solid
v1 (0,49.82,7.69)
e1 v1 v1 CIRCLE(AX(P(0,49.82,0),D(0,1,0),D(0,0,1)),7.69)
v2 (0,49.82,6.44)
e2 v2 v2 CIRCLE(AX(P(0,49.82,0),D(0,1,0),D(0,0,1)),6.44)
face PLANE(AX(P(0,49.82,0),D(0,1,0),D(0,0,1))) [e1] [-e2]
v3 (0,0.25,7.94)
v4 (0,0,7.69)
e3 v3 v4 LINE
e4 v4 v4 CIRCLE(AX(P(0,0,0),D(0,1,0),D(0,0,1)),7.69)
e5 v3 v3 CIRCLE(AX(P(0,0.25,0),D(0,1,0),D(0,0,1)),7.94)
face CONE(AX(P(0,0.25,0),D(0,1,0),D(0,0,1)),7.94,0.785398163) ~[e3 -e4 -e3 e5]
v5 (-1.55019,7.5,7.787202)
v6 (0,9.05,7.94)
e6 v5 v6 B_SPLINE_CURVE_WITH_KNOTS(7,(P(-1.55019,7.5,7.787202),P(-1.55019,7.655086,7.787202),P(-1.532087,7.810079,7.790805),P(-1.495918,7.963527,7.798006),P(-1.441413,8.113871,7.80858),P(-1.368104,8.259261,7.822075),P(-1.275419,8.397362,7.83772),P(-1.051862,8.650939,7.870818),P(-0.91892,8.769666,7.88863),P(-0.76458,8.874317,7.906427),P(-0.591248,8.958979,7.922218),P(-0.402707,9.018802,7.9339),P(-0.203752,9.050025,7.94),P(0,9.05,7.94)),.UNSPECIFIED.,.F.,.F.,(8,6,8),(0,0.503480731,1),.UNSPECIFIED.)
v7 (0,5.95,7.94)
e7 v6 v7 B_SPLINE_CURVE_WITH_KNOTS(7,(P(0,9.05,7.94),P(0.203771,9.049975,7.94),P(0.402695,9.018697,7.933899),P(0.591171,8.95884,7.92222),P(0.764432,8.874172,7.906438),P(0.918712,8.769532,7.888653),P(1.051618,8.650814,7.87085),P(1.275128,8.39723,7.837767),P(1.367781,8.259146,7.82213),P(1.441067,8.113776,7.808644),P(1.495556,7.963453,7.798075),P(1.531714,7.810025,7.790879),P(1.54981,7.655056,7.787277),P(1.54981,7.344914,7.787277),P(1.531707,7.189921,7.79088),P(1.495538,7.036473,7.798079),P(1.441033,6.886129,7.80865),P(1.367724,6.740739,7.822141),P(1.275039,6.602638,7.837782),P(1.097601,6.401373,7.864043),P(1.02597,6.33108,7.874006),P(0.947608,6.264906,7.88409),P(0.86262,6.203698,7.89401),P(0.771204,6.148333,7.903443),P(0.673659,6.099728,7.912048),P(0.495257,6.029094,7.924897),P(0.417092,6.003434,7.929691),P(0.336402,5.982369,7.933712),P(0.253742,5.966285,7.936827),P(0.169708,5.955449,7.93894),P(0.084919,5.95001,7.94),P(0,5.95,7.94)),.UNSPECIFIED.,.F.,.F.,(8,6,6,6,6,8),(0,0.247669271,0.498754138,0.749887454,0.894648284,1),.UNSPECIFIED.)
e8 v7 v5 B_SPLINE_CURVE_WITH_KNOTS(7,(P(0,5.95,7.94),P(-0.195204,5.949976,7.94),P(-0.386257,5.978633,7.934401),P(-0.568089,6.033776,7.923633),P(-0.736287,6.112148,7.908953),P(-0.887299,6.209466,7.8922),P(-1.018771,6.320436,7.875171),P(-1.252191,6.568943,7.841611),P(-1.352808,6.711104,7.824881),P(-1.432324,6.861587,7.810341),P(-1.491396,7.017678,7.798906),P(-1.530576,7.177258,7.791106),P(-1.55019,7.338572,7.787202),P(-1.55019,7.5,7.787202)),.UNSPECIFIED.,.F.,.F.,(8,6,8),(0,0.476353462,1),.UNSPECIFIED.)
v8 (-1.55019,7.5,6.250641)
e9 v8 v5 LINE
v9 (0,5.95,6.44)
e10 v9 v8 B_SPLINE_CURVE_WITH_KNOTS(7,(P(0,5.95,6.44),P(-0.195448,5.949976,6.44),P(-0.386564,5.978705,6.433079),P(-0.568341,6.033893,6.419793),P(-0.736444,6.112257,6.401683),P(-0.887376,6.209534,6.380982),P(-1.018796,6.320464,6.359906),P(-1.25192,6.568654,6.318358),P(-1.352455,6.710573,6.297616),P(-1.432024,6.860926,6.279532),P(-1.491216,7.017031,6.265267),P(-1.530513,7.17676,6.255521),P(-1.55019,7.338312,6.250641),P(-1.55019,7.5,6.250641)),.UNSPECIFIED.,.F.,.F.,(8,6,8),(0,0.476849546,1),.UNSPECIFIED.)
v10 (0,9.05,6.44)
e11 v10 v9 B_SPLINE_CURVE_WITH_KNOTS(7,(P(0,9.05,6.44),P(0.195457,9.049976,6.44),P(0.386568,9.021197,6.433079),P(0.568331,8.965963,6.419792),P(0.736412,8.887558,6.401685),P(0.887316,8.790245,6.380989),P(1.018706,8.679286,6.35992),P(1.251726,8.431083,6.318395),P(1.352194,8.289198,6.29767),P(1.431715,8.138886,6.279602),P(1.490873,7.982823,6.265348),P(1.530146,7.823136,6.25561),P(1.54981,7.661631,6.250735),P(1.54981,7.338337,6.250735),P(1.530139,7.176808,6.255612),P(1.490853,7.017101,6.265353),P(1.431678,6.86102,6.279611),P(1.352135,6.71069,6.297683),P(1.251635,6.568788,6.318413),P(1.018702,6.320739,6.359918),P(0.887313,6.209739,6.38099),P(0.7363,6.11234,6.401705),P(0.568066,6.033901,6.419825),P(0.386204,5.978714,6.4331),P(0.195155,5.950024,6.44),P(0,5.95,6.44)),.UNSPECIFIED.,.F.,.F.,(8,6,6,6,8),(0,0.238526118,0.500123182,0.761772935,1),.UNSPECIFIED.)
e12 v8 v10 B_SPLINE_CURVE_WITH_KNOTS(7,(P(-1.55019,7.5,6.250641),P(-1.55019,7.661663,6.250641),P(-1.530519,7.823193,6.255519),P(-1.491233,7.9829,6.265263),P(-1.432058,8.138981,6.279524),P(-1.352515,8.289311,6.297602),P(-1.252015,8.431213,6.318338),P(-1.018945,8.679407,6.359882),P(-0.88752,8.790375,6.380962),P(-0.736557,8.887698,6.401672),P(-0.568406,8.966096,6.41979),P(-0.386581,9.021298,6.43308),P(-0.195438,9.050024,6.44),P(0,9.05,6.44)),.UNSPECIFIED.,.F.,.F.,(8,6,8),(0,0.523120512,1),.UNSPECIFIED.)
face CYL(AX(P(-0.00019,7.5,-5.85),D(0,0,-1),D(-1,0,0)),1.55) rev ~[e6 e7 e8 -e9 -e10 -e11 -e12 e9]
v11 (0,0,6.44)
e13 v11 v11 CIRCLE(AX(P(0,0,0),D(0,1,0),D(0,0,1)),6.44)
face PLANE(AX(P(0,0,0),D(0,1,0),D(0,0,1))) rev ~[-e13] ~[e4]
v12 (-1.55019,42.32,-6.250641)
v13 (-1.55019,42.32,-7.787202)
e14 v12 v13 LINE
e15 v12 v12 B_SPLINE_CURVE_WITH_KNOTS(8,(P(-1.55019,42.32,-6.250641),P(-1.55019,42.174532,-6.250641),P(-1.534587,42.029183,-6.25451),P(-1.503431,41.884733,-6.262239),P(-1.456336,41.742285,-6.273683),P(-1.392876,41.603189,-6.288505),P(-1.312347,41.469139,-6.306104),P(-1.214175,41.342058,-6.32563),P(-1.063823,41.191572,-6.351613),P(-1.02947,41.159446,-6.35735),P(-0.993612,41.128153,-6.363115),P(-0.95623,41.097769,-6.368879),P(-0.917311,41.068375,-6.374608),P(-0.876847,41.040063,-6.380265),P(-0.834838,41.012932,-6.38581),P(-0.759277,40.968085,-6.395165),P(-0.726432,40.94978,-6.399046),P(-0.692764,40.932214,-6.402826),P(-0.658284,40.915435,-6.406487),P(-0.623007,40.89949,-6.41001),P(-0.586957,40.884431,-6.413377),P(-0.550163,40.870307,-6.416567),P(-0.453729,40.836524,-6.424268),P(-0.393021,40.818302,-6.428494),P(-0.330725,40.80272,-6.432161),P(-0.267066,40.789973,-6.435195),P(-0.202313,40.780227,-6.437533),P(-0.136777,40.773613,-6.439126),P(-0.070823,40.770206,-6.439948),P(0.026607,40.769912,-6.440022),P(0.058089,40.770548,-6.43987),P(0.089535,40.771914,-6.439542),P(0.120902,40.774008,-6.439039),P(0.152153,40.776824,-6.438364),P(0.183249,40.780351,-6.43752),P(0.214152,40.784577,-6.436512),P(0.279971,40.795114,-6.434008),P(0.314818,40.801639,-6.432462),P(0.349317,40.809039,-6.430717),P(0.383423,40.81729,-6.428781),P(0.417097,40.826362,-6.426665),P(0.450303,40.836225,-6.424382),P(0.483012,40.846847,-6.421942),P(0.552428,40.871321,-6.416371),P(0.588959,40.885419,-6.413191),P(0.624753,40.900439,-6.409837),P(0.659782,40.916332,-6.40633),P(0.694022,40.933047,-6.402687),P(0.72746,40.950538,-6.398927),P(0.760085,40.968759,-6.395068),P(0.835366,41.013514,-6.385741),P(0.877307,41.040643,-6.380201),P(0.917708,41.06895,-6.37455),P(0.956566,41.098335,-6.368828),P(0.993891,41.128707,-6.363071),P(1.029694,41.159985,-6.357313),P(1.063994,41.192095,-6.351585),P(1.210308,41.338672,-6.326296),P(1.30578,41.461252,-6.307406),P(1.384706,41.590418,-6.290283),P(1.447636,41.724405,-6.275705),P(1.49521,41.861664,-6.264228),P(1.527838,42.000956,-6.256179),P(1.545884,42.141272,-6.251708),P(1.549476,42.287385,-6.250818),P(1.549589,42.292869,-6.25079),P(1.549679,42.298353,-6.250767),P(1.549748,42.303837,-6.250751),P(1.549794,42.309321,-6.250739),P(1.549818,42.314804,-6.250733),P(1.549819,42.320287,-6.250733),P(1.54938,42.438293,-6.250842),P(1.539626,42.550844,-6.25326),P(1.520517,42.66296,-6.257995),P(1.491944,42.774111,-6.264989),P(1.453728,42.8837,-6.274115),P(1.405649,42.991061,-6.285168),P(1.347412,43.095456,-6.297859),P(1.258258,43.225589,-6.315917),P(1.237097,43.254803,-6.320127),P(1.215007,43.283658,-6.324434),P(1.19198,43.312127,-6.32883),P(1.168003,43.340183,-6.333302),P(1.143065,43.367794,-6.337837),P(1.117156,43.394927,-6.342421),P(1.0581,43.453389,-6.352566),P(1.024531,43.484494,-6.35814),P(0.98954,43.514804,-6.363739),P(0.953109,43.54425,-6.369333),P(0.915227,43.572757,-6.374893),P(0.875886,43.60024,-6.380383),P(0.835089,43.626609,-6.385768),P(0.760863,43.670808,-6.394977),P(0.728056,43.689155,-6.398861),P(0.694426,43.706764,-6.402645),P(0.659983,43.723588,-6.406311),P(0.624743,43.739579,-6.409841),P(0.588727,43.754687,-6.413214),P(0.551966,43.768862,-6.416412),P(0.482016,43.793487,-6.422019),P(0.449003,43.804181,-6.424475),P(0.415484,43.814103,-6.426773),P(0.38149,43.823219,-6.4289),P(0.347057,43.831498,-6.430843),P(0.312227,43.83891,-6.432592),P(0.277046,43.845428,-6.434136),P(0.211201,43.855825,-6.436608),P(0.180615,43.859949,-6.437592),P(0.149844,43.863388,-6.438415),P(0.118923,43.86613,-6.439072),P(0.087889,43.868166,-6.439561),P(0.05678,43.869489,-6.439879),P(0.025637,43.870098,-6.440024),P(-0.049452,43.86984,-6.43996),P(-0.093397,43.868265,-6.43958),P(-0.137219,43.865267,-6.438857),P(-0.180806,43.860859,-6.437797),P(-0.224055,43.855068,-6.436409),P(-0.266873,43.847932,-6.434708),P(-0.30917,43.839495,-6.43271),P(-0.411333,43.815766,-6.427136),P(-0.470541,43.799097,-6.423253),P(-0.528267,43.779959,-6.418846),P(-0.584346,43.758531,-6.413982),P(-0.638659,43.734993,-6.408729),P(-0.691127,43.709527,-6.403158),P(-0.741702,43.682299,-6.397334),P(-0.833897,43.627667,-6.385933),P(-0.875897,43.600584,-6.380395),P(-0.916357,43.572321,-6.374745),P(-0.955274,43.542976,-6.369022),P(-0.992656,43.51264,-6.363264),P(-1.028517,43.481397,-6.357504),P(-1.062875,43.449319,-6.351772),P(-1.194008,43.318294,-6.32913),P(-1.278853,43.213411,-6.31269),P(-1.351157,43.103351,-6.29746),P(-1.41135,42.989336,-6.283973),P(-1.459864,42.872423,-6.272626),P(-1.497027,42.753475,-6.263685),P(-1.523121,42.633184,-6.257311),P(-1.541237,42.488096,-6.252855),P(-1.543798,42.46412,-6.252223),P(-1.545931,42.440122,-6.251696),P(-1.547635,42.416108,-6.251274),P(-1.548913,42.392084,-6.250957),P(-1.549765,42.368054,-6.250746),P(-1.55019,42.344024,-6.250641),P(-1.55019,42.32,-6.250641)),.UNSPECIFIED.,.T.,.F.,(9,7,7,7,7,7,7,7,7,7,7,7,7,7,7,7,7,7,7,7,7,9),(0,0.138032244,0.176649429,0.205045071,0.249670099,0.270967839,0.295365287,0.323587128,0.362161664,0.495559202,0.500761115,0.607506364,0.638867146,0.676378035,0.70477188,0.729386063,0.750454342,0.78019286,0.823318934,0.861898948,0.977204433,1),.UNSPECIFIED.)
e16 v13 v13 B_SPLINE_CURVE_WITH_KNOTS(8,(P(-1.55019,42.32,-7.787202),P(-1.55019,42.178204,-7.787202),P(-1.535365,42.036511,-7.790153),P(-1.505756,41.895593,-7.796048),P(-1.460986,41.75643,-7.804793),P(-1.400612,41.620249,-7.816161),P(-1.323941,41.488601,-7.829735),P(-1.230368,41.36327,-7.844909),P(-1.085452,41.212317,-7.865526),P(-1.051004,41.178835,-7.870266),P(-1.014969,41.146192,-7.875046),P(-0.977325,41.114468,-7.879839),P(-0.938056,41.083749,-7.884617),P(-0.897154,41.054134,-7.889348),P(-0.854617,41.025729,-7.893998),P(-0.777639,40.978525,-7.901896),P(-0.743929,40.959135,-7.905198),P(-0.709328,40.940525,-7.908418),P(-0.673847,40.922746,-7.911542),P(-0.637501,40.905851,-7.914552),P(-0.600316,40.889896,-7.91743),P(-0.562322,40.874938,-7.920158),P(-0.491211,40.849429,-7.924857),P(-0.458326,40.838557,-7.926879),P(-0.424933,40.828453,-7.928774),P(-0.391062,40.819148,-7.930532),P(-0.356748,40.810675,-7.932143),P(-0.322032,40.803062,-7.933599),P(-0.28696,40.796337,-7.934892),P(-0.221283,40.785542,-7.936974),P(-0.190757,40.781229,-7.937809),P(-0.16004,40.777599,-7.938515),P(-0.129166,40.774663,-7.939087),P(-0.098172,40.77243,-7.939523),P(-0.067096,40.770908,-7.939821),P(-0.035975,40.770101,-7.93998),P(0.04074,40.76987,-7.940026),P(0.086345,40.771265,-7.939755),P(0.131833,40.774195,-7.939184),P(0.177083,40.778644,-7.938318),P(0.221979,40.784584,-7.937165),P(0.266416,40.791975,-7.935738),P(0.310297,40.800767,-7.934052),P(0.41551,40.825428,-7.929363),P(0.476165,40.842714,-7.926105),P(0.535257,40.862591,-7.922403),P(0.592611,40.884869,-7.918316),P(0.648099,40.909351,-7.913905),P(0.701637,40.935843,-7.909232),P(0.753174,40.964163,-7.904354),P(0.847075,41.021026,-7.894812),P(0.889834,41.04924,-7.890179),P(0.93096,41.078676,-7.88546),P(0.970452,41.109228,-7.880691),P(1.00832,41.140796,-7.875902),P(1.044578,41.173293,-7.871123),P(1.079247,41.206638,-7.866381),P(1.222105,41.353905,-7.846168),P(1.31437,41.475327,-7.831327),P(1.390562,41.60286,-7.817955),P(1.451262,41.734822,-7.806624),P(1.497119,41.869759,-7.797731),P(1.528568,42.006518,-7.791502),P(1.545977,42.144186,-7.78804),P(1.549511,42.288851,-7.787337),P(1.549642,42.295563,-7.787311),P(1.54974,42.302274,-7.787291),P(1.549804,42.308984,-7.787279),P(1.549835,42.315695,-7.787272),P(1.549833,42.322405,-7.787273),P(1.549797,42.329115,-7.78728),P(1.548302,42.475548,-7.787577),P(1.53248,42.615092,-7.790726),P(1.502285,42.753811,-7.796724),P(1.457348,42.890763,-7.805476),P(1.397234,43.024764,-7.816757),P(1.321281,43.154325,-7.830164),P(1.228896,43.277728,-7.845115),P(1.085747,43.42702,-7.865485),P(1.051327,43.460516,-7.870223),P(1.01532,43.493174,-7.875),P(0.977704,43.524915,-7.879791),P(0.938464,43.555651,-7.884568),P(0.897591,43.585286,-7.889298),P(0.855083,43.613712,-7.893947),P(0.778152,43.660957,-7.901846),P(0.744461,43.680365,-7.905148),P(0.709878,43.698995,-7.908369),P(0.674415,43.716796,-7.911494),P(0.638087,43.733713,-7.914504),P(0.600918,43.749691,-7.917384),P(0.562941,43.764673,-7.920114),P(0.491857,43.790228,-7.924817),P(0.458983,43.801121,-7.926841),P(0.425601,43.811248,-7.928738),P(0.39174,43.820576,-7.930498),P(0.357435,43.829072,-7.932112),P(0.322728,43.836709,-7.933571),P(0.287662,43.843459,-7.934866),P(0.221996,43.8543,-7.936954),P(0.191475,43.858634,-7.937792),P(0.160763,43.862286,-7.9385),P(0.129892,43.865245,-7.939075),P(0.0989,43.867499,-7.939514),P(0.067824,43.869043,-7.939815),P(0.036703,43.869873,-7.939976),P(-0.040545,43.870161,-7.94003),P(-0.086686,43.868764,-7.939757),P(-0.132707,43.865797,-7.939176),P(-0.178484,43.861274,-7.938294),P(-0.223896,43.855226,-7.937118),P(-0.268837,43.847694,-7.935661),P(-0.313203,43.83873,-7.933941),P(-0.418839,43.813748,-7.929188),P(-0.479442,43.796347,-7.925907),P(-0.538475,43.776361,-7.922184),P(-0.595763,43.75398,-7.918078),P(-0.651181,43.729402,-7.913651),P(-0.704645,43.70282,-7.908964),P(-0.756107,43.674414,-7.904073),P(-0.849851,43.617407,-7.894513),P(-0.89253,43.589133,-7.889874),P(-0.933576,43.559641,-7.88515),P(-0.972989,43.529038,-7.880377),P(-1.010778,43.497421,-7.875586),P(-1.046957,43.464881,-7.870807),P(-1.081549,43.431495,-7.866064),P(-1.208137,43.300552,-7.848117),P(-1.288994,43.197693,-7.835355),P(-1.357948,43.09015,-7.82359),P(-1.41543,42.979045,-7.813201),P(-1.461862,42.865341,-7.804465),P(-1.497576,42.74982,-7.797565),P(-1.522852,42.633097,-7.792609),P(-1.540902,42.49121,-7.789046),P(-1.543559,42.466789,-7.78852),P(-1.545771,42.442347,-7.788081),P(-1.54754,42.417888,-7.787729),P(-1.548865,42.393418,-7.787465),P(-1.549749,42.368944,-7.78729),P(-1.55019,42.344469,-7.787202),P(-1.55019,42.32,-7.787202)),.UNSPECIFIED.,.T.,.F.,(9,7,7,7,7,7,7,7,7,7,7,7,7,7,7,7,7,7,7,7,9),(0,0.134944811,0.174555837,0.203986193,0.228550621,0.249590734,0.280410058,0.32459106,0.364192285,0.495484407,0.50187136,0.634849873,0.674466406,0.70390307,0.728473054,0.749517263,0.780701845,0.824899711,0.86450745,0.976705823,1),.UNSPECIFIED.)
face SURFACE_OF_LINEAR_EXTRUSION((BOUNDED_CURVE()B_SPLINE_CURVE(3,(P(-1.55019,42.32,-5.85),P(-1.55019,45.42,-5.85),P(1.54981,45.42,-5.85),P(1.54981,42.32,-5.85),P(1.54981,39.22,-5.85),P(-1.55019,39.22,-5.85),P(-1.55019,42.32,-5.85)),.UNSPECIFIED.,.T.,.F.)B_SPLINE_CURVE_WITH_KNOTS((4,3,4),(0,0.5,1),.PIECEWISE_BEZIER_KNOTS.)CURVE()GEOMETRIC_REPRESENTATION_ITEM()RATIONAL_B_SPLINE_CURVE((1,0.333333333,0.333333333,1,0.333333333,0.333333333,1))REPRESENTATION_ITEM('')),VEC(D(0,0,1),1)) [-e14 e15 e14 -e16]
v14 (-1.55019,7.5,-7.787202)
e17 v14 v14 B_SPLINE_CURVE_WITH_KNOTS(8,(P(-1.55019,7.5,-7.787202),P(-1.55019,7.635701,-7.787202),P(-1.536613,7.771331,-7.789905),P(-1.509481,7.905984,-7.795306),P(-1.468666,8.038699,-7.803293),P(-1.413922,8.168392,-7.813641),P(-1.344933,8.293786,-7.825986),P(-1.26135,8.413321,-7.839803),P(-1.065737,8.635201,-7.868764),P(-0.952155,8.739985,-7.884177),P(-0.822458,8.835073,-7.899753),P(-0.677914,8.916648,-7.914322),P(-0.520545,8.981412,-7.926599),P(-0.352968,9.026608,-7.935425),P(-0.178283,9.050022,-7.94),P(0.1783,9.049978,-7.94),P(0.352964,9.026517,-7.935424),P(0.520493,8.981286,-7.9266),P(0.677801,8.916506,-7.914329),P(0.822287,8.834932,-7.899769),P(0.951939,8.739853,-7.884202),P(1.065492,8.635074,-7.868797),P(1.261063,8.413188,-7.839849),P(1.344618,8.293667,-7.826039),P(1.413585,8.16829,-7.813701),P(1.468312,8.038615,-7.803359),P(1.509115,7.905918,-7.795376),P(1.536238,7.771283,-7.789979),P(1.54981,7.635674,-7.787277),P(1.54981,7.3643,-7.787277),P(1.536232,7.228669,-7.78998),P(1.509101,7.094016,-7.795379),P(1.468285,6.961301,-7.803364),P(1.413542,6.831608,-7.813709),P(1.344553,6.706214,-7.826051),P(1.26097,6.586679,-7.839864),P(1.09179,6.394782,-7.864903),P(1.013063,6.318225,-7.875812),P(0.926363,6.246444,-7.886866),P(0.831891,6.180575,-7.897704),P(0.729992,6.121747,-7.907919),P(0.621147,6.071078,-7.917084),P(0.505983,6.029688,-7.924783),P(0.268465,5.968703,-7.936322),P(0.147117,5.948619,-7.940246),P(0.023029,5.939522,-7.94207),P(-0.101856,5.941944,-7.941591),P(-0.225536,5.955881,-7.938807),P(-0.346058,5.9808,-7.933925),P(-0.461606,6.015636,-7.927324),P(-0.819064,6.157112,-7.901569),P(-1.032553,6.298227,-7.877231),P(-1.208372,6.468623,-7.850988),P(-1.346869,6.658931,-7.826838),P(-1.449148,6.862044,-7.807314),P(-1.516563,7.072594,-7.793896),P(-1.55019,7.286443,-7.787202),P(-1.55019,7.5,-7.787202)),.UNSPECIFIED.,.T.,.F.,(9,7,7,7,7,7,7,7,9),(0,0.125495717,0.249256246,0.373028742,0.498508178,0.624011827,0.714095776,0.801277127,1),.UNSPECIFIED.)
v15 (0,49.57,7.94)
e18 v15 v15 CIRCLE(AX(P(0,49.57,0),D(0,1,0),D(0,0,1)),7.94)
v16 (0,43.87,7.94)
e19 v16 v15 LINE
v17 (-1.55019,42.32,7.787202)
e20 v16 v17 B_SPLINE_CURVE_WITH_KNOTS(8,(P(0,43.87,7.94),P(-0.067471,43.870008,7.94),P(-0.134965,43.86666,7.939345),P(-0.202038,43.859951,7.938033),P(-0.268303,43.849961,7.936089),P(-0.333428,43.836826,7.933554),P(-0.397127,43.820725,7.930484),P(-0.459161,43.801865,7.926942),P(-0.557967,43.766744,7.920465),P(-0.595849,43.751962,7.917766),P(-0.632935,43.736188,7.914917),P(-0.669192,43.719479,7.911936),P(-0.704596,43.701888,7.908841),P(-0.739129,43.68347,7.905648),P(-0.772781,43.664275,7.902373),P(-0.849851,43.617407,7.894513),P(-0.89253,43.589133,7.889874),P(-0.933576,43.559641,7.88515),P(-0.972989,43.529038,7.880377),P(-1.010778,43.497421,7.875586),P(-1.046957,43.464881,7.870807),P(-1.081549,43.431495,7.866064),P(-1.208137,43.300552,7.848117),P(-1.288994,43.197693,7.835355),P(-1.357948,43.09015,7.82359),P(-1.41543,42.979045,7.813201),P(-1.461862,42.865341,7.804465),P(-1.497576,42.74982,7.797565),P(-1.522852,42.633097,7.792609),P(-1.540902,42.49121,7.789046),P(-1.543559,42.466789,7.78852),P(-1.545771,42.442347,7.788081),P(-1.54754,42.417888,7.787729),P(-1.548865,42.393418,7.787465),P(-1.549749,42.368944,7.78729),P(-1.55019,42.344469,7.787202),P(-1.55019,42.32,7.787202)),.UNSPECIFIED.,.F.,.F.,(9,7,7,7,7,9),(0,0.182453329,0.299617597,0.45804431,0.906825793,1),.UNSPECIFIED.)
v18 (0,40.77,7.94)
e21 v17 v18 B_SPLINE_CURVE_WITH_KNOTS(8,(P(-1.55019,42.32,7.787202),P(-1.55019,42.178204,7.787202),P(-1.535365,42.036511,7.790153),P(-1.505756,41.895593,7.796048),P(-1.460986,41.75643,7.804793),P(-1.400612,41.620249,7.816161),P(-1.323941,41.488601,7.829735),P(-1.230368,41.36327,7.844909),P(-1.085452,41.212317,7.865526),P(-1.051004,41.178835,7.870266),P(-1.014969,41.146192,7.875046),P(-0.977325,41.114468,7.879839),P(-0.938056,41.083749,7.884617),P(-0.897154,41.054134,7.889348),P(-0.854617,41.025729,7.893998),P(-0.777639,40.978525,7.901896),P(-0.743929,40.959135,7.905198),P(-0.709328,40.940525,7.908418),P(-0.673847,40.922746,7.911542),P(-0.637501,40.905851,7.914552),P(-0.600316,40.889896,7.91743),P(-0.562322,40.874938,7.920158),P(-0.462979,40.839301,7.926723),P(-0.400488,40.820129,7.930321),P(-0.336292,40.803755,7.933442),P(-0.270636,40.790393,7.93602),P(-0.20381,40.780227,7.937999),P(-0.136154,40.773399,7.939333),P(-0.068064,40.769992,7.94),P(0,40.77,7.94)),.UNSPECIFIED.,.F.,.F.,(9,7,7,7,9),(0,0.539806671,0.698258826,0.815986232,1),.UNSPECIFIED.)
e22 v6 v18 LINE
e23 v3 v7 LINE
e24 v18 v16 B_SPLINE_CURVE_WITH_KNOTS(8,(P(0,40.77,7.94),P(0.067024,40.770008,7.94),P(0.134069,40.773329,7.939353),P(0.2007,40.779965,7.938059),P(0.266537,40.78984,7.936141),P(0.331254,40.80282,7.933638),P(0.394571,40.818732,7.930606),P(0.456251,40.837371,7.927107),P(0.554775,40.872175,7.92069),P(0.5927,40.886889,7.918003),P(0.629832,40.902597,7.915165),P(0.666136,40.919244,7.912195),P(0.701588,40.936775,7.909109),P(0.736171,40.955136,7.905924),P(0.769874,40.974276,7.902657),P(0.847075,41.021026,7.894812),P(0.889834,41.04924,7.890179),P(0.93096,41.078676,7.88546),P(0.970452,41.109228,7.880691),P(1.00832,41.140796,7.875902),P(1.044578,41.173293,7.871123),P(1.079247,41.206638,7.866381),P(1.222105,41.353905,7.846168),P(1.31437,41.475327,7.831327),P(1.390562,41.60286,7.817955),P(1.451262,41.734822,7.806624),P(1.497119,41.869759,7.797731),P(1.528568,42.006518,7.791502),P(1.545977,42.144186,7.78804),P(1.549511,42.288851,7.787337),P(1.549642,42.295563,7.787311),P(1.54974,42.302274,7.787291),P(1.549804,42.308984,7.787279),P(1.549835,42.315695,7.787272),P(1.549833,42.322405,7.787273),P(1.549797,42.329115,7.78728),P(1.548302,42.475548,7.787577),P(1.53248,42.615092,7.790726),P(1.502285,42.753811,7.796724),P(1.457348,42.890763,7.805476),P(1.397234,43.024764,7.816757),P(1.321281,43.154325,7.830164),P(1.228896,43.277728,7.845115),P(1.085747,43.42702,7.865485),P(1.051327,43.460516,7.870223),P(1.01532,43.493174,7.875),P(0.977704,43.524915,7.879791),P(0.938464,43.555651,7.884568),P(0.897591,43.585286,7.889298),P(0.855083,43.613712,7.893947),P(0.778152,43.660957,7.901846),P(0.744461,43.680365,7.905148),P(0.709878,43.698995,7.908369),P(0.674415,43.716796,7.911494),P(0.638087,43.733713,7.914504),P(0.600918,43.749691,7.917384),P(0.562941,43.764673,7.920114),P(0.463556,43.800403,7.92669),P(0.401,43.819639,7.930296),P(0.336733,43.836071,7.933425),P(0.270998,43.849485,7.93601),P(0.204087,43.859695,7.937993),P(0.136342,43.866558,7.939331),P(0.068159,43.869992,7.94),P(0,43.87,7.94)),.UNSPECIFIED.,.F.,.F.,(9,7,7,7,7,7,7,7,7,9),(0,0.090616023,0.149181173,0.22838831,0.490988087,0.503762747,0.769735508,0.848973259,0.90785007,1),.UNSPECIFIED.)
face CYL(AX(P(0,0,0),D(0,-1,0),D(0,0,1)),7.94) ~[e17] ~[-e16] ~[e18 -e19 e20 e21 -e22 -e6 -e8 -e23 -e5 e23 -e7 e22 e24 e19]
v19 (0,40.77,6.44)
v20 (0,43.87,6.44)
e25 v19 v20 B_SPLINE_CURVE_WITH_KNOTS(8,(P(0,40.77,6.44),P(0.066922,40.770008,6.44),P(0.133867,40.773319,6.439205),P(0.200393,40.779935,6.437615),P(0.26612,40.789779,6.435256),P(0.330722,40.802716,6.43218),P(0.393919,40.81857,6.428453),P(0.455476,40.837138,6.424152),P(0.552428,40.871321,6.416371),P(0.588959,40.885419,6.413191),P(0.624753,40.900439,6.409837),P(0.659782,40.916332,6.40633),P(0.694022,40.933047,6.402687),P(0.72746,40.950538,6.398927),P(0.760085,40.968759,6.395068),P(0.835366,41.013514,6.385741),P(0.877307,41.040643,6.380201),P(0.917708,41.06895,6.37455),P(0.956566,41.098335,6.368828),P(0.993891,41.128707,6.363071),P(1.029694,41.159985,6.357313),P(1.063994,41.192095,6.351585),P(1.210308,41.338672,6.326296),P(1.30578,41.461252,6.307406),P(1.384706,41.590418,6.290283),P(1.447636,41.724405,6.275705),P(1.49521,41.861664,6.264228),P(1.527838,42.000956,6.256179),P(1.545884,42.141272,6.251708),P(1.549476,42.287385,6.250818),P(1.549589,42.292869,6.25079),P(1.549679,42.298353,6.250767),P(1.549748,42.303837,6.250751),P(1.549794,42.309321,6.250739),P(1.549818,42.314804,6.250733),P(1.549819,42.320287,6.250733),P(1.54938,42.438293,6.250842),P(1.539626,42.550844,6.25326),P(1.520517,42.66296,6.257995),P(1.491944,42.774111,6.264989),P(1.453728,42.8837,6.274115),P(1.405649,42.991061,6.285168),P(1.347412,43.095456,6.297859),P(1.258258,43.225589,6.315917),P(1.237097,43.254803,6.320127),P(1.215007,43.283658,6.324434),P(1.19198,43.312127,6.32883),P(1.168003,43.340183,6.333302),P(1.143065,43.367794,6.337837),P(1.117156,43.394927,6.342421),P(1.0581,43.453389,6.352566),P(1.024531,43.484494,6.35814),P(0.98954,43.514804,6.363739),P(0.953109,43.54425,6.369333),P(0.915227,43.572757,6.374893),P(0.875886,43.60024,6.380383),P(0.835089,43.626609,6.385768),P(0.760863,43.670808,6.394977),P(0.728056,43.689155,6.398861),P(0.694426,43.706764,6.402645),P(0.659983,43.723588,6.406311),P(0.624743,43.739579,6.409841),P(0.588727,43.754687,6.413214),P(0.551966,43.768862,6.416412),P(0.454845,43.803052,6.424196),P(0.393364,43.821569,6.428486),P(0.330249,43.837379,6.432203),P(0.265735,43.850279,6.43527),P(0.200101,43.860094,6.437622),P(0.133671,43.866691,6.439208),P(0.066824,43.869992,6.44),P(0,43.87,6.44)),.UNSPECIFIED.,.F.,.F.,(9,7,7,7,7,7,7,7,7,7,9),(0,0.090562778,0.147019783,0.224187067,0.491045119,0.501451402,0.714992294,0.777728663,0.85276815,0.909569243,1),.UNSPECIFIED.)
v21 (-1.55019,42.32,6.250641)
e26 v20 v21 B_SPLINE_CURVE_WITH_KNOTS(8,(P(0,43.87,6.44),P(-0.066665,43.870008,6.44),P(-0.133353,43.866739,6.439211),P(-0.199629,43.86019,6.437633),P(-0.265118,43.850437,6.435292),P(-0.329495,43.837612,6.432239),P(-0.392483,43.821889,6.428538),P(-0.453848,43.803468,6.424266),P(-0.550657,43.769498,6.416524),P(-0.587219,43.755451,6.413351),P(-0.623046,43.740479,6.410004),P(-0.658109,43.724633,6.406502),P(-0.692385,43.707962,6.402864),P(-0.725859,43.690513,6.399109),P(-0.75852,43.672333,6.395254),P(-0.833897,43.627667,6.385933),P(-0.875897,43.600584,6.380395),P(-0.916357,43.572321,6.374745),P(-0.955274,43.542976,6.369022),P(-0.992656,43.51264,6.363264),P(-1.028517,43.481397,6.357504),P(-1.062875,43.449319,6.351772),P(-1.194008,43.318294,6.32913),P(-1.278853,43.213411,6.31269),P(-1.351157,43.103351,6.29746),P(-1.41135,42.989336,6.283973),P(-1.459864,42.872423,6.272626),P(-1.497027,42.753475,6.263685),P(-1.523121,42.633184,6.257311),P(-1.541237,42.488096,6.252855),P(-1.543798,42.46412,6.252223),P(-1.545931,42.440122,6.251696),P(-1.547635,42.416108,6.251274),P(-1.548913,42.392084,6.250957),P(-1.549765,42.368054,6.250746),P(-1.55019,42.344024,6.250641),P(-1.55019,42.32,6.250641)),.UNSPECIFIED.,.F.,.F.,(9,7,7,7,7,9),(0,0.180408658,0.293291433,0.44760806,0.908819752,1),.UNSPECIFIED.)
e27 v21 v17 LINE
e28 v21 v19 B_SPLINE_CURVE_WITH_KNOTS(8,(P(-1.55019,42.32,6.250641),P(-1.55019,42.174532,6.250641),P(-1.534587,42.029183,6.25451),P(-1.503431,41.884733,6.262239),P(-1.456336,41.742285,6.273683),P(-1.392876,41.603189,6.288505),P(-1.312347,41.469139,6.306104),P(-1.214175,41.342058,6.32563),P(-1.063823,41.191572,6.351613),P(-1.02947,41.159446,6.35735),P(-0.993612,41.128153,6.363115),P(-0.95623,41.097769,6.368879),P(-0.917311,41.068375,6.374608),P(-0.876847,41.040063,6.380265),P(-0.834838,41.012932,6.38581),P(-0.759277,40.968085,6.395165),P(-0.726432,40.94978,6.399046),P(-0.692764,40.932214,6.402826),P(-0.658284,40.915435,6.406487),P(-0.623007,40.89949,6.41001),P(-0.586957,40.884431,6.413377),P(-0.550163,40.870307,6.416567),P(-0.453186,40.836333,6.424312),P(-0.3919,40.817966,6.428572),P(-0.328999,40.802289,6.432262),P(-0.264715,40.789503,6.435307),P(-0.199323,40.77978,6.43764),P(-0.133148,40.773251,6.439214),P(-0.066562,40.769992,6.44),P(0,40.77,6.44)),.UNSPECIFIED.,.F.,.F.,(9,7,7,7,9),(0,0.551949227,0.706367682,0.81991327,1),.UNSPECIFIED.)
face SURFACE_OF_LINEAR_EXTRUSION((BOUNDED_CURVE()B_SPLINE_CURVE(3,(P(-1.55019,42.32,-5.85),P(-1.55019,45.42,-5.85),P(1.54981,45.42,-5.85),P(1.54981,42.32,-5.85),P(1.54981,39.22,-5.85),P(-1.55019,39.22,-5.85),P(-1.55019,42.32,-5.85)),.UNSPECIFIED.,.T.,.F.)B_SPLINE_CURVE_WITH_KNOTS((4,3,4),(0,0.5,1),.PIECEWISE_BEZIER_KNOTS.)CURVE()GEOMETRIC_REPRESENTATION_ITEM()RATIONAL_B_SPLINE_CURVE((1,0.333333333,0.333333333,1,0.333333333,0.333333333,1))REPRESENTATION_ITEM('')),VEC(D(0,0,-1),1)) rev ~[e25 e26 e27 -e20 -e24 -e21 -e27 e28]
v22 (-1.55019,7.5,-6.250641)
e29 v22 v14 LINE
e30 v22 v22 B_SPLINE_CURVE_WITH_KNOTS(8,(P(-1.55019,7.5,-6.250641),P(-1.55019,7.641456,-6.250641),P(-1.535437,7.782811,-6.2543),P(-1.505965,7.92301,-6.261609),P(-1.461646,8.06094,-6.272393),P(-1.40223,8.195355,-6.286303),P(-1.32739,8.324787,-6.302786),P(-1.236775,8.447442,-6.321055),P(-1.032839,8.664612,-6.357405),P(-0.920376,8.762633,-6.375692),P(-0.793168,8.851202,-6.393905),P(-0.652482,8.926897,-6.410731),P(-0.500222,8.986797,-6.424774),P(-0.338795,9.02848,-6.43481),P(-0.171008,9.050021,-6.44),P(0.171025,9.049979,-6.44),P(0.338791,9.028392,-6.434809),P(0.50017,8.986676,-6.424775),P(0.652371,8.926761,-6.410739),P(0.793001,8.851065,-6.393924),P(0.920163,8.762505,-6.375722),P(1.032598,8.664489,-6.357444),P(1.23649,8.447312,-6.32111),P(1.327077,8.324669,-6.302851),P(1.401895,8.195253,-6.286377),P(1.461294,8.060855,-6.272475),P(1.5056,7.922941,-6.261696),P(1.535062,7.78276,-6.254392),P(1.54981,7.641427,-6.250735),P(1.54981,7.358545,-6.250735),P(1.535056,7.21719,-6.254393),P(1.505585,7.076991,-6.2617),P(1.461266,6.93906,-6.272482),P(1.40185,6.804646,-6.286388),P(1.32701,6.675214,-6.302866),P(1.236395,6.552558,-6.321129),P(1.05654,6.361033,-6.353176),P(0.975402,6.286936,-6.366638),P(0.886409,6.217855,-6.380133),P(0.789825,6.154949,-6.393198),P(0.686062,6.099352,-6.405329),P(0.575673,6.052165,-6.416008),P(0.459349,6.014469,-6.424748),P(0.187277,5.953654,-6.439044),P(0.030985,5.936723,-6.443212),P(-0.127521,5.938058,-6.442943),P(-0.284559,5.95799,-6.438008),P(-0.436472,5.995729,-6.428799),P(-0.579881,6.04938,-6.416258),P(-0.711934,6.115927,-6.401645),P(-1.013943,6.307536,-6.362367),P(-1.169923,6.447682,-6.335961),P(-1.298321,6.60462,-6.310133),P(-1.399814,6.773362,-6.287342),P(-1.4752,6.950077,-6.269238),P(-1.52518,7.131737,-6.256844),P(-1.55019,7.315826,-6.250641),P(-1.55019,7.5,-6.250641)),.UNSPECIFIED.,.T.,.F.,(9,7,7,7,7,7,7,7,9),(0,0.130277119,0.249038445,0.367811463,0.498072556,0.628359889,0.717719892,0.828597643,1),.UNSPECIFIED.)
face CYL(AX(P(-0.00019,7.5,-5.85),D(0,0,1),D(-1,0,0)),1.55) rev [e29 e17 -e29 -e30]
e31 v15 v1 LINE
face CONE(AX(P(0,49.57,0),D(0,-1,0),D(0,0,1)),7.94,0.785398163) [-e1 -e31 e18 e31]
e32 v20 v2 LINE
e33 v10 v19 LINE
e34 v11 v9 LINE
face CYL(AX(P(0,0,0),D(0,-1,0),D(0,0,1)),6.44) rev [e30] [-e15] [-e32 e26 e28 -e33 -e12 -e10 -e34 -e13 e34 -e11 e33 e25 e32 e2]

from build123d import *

# Parameters (mm, degrees)
SKETCH1_R               = 7.94
SKETCH1_R_2             = 6.44
BOSS_EXTRUDE1_DEPTH     = 49.82
CHAMFER1_SIZE           = 0.25
SKETCH2_R               = 1.55
CUT_EXTRUDE1_DEPTH      = 53.299522942
CUT_EXTRUDE1_DEPTH_BACK = 53.299522942


with BuildPart() as part:
    # Sketch1 → Boss-Extrude1 (new body)
    with BuildSketch(Plane(origin=(0, 0, 0), x_dir=(1, 0, 0), z_dir=(0, 1, 0))):
        with Locations(Location((0, 0, 0), (0, 0, 270))):
            Circle(SKETCH1_R)
        with Locations(Location((0, 0, 0), (0, 0, 270))):
            Circle(SKETCH1_R_2, mode=Mode.SUBTRACT)
    extrude(amount=BOSS_EXTRUDE1_DEPTH)

    # Chamfer1
    chamfer1_edges = [part.edges().sort_by_distance(p)[0] for p in [
        (0, 0, -7.94),
        (0, 49.82, -7.94),
    ]]
    chamfer(chamfer1_edges, length=CHAMFER1_SIZE)

    # Sketch2 → Cut-Extrude1 (cut, two sides)
    with BuildSketch(Plane(origin=(0, 0, -5.85), x_dir=(-1, 0, 0), z_dir=(0, 0, -1))) as cut_extrude1_sk:
        with Locations((0.000190227, 7.5)):
            Circle(SKETCH2_R)
        with BuildLine():
            add(Edge.make_bspline(
                [(1.550190227, 42.32), (1.550190227, 45.42), (-1.549809773, 45.42), (-1.549809773, 42.32), (-1.549809773, 39.22), (1.550190227, 39.22), (1.550190227, 42.32)],
                knots=[0, 0, 0, 0, 0.5, 0.5, 0.5, 1, 1, 1, 1], degree=3, weights=[1, 0.333333333, 0.333333333, 1, 0.333333333, 0.333333333, 1]))
        make_face()
    extrude(amount=CUT_EXTRUDE1_DEPTH, mode=Mode.SUBTRACT)
    extrude(cut_extrude1_sk.sketch, amount=-CUT_EXTRUDE1_DEPTH_BACK, mode=Mode.SUBTRACT)


solid = part.part
